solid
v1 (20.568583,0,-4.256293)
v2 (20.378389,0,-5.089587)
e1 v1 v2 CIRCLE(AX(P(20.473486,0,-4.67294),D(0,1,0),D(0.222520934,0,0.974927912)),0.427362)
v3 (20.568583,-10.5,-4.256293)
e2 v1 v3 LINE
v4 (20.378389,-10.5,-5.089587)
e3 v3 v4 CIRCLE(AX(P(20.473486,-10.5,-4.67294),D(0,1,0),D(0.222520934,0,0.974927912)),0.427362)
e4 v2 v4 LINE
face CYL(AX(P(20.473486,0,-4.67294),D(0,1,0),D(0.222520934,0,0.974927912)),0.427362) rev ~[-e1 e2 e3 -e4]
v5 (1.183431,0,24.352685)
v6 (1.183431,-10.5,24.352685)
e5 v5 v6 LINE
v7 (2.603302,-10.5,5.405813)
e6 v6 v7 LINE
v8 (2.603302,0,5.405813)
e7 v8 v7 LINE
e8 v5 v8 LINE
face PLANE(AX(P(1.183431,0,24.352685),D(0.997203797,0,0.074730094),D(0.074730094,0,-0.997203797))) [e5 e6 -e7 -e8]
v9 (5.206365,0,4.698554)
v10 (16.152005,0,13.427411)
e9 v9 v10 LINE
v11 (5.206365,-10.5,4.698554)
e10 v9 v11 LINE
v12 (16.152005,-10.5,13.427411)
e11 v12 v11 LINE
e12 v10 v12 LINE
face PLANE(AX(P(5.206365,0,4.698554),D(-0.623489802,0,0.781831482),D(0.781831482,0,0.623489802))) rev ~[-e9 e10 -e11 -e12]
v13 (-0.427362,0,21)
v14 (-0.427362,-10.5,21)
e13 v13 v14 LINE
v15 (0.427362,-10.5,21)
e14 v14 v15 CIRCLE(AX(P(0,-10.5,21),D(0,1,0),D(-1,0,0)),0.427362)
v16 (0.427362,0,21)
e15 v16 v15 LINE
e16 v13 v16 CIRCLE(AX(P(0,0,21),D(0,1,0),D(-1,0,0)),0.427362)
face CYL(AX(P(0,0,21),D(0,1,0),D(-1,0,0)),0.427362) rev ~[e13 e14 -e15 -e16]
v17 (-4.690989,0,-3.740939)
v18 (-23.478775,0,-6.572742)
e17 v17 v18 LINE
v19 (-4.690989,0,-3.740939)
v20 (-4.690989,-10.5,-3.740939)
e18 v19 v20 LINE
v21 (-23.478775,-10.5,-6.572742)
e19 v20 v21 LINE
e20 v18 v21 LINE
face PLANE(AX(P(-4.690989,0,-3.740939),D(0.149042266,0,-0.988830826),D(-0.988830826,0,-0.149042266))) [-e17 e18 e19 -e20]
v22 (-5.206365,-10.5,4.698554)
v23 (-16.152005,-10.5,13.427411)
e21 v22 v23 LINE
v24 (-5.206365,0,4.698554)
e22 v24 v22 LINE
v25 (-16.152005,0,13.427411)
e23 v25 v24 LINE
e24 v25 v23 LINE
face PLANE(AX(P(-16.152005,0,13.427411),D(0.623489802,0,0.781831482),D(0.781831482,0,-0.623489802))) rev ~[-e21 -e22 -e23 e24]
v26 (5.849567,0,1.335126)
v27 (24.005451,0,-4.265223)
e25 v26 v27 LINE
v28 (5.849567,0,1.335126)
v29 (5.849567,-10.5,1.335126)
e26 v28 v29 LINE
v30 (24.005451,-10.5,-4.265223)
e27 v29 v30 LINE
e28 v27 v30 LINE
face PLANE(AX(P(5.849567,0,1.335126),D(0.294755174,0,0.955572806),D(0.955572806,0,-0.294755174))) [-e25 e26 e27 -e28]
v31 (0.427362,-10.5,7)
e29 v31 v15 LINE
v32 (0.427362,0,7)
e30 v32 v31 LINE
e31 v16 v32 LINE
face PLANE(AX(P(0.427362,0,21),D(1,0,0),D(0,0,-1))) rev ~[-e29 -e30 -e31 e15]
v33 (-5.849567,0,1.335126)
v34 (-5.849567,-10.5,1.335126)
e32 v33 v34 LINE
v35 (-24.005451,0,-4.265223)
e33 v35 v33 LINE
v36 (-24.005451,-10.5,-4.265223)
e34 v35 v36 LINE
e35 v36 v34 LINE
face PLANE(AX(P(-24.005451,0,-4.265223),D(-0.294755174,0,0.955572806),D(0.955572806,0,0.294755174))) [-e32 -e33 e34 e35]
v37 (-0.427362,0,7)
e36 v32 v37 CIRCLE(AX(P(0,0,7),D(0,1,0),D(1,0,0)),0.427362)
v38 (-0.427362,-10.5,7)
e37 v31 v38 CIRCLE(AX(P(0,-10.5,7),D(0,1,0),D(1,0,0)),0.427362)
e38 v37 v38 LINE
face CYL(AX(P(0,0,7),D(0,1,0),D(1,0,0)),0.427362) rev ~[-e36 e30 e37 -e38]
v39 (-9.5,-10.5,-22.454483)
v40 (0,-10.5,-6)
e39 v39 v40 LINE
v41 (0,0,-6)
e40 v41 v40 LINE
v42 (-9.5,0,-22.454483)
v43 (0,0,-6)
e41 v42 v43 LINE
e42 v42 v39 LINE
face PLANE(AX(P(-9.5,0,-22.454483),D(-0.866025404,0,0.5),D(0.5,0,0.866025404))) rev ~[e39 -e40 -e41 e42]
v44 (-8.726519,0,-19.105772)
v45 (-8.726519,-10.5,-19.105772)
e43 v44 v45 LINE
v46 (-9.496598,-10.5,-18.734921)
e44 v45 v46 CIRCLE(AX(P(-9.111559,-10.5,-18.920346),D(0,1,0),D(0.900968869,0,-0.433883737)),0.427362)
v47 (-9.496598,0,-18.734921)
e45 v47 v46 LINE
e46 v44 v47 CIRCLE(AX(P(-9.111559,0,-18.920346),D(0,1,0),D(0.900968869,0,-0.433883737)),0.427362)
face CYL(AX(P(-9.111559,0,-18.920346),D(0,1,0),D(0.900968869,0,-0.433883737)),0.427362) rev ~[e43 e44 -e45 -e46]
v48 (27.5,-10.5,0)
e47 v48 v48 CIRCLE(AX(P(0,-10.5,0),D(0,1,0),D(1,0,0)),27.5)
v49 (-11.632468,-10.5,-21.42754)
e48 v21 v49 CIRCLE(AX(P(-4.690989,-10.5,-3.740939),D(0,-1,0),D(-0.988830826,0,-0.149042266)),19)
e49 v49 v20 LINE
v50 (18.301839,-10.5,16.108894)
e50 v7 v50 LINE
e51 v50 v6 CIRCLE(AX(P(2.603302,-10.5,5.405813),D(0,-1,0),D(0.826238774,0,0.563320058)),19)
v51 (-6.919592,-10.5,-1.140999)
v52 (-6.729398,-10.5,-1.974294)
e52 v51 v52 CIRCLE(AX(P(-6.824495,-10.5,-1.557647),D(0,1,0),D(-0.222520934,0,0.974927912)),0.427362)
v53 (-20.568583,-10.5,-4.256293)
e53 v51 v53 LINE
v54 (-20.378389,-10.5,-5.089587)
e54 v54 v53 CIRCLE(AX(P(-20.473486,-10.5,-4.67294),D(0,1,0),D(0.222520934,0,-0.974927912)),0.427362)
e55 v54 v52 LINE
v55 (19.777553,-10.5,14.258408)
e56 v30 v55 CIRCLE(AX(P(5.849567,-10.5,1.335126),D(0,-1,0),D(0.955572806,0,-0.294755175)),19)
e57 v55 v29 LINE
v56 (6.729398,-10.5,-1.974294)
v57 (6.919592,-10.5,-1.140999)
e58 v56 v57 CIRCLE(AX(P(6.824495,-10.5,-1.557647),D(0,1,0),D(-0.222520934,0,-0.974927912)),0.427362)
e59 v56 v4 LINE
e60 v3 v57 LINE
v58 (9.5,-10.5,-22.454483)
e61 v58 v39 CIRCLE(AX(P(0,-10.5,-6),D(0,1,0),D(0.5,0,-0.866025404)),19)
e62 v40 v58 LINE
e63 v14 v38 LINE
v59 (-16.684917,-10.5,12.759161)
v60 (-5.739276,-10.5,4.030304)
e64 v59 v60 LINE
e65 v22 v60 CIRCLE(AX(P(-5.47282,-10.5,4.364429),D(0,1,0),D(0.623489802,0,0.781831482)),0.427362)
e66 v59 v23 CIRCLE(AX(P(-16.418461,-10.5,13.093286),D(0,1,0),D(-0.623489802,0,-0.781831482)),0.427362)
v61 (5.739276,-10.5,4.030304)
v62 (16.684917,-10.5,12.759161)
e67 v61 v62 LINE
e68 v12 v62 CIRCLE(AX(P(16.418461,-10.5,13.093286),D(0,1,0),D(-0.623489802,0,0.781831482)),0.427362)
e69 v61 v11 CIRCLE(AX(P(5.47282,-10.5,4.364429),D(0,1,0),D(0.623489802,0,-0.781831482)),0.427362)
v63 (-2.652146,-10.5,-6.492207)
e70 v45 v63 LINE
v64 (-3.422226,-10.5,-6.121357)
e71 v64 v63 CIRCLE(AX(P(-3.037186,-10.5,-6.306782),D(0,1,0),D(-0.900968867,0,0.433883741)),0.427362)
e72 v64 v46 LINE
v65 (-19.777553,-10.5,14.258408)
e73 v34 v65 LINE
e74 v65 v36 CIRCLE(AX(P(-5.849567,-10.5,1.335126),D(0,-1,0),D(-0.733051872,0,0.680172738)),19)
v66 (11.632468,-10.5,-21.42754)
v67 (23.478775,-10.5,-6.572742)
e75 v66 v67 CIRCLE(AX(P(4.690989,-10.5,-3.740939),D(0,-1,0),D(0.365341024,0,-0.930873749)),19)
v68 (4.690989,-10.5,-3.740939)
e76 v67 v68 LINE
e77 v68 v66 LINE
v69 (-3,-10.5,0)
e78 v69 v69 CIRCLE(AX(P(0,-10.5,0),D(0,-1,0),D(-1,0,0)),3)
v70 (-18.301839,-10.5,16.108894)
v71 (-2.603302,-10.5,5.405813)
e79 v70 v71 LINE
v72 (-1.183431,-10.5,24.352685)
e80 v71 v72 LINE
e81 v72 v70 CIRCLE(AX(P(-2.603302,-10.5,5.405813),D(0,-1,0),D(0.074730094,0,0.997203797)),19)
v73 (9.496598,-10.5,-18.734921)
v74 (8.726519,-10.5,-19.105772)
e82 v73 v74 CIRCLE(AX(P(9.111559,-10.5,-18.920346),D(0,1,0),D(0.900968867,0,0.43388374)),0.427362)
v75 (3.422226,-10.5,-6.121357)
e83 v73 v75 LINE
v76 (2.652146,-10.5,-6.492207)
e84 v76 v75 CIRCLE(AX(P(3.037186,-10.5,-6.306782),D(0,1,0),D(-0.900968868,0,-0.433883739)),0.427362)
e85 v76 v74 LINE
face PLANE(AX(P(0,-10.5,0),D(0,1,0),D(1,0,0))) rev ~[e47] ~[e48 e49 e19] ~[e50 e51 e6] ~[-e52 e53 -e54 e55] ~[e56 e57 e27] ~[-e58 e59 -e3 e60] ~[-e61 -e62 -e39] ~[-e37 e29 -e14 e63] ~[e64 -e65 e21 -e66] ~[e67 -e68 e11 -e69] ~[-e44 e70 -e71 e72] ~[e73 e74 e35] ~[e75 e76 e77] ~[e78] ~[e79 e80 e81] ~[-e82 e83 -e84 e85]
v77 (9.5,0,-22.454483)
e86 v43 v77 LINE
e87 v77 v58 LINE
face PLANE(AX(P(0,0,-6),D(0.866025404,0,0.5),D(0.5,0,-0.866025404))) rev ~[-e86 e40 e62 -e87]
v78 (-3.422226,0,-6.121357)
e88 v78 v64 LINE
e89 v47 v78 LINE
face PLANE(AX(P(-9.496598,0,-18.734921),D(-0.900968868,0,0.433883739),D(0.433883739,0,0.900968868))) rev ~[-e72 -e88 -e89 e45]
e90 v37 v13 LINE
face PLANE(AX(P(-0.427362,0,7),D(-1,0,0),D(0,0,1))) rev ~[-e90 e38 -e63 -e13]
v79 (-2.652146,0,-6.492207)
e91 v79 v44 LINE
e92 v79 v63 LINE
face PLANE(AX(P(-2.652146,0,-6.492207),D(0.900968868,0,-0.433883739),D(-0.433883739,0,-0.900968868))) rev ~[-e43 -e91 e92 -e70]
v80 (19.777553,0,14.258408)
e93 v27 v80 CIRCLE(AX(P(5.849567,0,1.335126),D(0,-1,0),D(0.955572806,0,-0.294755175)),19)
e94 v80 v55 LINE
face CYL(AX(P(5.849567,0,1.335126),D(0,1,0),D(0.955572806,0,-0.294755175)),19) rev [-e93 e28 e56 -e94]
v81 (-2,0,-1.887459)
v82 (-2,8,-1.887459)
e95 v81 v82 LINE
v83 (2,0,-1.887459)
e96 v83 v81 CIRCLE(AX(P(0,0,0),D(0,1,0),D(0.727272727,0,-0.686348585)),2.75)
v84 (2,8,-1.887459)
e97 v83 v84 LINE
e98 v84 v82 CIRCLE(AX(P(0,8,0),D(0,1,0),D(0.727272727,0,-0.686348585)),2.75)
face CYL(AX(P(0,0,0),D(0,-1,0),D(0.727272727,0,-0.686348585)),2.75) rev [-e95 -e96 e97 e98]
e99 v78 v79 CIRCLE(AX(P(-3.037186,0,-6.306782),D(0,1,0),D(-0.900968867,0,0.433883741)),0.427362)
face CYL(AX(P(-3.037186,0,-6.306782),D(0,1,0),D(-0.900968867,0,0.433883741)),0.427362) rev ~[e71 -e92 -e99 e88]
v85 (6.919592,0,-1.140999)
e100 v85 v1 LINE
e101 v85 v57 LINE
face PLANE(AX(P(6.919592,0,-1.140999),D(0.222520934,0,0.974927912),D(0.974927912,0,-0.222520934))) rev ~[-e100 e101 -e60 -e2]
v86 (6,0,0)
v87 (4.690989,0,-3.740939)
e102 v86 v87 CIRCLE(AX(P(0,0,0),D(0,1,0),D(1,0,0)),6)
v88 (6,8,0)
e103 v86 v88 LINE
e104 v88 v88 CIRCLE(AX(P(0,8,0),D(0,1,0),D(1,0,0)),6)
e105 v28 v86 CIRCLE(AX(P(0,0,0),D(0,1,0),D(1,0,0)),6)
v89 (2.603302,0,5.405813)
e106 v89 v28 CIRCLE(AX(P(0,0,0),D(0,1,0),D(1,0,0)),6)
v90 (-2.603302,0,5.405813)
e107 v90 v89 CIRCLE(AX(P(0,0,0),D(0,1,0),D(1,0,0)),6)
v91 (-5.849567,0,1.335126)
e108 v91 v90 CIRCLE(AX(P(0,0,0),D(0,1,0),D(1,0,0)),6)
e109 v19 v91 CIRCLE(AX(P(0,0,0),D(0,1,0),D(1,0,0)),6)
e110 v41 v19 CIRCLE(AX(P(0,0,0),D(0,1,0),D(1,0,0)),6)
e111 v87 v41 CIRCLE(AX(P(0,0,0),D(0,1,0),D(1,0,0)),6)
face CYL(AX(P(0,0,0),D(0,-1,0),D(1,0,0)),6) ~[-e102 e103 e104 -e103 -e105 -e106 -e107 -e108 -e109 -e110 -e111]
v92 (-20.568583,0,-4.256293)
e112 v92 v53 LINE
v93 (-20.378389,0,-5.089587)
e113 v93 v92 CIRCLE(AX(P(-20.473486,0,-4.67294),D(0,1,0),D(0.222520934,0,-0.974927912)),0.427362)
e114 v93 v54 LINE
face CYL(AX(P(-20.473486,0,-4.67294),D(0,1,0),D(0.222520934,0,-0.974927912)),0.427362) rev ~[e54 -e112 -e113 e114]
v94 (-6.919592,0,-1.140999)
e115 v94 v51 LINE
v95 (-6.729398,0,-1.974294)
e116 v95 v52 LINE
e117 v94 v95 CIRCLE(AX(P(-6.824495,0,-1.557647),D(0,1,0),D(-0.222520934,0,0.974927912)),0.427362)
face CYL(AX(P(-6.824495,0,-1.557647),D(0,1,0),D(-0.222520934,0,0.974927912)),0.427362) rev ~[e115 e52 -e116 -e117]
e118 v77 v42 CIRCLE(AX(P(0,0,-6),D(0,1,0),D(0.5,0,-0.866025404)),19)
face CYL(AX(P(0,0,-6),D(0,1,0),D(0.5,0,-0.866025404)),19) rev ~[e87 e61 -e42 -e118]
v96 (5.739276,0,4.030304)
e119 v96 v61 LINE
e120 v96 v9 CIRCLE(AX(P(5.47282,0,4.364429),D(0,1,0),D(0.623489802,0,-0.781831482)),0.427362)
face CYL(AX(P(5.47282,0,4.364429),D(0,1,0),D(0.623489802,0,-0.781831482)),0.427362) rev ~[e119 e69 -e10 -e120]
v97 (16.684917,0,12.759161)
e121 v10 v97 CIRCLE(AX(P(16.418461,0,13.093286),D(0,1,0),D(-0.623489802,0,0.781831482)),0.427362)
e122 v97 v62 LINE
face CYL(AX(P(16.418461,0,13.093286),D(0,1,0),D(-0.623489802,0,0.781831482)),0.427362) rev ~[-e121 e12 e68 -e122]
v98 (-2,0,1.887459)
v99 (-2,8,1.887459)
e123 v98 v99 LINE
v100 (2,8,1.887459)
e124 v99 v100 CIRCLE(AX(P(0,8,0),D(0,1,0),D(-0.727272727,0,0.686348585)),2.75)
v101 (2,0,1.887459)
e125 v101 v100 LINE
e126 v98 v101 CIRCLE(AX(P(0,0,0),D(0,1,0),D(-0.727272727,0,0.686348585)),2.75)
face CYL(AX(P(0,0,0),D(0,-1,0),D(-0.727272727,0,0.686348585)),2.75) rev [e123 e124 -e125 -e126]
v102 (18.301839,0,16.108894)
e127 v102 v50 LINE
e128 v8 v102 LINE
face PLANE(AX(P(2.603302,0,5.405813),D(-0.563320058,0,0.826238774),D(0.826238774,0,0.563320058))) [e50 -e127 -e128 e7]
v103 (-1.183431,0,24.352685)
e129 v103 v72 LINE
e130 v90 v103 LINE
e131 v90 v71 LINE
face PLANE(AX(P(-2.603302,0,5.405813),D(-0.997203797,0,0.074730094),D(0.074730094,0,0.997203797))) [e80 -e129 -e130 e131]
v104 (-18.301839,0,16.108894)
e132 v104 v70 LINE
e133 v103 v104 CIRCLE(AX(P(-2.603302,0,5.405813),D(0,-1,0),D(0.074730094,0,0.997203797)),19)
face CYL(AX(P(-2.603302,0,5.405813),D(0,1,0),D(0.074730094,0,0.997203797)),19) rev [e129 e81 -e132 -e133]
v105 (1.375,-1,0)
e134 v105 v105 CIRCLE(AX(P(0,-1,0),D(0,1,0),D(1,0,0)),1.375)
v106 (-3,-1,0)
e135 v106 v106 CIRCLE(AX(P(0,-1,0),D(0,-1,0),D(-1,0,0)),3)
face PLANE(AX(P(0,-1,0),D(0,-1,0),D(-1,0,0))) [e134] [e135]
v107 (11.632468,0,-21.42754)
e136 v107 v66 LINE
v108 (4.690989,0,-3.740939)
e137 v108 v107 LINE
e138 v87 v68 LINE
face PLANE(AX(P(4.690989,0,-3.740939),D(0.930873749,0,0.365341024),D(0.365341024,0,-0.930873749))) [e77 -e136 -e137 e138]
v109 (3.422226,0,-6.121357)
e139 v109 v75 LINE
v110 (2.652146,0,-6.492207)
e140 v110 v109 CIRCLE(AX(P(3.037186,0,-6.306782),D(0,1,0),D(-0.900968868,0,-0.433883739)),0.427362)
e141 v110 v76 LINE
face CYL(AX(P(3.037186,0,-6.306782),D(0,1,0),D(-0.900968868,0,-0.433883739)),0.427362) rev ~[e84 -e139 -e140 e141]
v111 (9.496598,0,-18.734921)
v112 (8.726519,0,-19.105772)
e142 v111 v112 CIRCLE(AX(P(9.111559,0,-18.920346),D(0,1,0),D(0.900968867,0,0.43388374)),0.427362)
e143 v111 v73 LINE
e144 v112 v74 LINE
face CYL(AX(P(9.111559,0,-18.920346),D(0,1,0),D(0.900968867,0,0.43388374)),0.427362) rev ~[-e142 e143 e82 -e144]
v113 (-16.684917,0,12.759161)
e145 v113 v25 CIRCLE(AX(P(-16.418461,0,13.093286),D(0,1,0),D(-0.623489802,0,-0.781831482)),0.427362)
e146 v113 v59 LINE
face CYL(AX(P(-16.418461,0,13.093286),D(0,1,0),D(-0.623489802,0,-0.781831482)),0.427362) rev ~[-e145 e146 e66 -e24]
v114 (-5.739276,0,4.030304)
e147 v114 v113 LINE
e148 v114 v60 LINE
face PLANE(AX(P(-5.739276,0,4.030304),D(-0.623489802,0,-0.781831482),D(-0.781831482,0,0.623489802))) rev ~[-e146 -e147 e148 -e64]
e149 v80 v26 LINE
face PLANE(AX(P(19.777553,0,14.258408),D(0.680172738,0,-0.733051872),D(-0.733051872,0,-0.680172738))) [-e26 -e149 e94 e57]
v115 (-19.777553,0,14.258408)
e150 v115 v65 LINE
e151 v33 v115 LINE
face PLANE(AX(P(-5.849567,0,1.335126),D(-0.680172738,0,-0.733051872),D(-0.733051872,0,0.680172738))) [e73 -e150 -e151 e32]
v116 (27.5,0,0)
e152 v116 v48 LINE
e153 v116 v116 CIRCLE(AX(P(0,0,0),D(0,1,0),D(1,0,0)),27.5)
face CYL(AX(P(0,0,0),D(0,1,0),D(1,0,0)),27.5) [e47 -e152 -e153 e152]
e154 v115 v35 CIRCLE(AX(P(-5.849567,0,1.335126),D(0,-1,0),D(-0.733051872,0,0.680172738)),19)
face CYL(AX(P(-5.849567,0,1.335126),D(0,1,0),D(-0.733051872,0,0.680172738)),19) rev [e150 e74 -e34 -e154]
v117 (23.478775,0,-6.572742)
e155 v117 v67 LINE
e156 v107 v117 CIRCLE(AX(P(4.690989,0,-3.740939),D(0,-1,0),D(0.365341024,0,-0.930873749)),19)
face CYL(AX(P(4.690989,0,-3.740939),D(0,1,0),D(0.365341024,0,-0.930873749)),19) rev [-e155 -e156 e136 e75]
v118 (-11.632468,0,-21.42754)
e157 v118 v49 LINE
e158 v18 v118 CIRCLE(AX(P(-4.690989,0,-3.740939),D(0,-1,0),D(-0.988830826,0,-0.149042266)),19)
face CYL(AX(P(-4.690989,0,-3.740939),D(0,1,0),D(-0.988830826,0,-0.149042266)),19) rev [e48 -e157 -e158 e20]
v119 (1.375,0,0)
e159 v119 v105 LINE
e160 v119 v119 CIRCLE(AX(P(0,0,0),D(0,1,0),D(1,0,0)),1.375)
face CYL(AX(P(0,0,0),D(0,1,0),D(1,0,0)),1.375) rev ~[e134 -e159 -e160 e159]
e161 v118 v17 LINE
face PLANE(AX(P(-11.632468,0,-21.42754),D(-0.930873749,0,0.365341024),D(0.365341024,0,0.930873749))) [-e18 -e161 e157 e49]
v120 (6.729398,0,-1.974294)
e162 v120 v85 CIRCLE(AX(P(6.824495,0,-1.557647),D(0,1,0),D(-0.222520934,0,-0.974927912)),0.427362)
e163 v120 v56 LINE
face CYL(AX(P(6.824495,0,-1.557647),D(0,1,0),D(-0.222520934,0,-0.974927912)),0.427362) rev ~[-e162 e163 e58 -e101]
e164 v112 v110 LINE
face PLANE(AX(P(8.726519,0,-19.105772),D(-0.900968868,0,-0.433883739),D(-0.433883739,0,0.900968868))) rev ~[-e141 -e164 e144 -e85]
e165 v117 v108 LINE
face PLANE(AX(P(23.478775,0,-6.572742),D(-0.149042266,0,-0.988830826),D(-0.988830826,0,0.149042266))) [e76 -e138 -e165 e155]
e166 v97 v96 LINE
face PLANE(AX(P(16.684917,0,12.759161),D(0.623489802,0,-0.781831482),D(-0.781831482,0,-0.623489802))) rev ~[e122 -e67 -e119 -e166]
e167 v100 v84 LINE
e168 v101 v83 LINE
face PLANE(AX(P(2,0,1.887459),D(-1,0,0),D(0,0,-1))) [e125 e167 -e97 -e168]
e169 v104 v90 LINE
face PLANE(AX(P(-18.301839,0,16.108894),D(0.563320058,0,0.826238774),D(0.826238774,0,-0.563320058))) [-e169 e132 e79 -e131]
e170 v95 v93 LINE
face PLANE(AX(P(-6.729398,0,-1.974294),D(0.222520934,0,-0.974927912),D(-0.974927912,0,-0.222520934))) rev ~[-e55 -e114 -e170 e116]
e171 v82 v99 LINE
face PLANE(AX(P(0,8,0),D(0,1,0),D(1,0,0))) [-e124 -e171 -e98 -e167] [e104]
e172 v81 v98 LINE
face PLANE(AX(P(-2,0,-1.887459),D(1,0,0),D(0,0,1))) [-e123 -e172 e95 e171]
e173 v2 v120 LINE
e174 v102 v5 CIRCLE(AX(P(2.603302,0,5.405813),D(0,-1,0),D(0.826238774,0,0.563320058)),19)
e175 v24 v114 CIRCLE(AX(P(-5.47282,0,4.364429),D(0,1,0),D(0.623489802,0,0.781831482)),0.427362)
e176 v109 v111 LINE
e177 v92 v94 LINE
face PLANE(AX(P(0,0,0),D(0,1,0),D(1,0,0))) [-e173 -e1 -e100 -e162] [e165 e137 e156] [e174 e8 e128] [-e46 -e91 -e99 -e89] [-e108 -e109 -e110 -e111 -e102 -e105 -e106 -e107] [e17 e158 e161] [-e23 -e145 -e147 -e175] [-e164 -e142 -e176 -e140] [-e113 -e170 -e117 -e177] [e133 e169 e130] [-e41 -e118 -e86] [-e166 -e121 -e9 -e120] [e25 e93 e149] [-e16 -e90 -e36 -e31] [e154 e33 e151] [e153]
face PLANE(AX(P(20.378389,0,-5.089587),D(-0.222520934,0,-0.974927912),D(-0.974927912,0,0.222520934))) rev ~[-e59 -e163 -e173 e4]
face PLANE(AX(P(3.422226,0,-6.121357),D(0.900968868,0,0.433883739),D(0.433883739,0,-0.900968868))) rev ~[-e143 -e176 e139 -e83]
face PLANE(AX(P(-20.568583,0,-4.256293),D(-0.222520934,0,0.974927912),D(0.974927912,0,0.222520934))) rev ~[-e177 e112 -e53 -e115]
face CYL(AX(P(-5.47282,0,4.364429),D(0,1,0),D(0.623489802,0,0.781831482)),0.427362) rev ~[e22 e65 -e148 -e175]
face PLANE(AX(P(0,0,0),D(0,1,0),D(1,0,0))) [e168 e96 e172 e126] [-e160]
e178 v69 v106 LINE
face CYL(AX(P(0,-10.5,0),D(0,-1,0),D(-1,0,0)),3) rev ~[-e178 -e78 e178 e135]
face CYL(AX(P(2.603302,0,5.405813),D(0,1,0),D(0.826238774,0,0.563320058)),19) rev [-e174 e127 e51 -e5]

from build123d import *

# Parameters (mm, degrees)
SKETCH2_R           = 6
BOSS_EXTRUDE1_DEPTH = 8
SKETCH3_R           = 27.5
SKETCH3_R_2         = 1.375
BOSS_EXTRUDE2_DEPTH = 10.5
SKETCH4_R           = 3
CUT_EXTRUDE1_DEPTH  = 9.5
CUT_EXTRUDE2_REACH  = 12.5


with BuildPart() as part:
    # Sketch2 → Boss-Extrude1 (new body)
    with BuildSketch(Plane(origin=(0, 0, 0), x_dir=(1, 0, 0), z_dir=(0, 1, 0))):
        Circle(SKETCH2_R)
        with BuildLine():
            ThreePointArc((-2, -1.887458609), (0, -2.75), (2, -1.887458609))
            Line((2, -1.887458609), (2, 1.887458609))
            ThreePointArc((2, 1.887458609), (0, 2.75), (-2, 1.887458609))
            Line((-2, 1.887458609), (-2, -1.887458609))
        make_face(mode=Mode.SUBTRACT)
    extrude(amount=BOSS_EXTRUDE1_DEPTH)

    # Sketch3 → Boss-Extrude2 (add)
    with BuildSketch(Plane(origin=(0, 0, 0), x_dir=(1, 0, 0), z_dir=(0, 1, 0))):
        Circle(SKETCH3_R)
        Circle(SKETCH3_R_2, mode=Mode.SUBTRACT)
        with BuildLine():
            Line((0, 6), (9.5, 22.454482672))
            ThreePointArc((9.5, 22.454482672), (0, 25), (-9.5, 22.454482672))
            Line((-9.5, 22.454482672), (0, 6))
        make_face(mode=Mode.SUBTRACT)
        with BuildLine():
            Line((4.690988895, 3.740938811), (11.632468358, 21.427540035))
            ThreePointArc((11.632468358, 21.427540035), (19.545787062, 15.587245046), (23.478774593, 6.572741869))
            Line((23.478774593, 6.572741869), (4.690988895, 3.740938811))
        make_face(mode=Mode.SUBTRACT)
        with BuildLine():
            Line((5.849567473, -1.335125604), (24.005450783, 4.26522271))
            ThreePointArc((24.005450783, 4.26522271), (24.373197805, -5.563023349), (19.777553038, -14.258407621))
            Line((19.777553038, -14.258407621), (5.849567473, -1.335125604))
        make_face(mode=Mode.SUBTRACT)
        with BuildLine():
            Line((2.603302435, -5.405813207), (18.301839147, -16.108894311))
            ThreePointArc((18.301839147, -16.108894311), (10.847093478, -22.524221698), (1.183430657, -24.352685354))
            Line((1.183430657, -24.352685354), (2.603302435, -5.405813207))
        make_face(mode=Mode.SUBTRACT)
        with BuildLine():
            Line((-2.603302435, -5.405813207), (-1.183430657, -24.352685354))
            ThreePointArc((-1.183430657, -24.352685354), (-10.847093478, -22.524221698), (-18.301839147, -16.108894311))
            Line((-18.301839147, -16.108894311), (-2.603302435, -5.405813207))
        make_face(mode=Mode.SUBTRACT)
        with BuildLine():
            Line((-5.849567473, -1.335125604), (-19.777553038, -14.258407621))
            ThreePointArc((-19.777553038, -14.258407621), (-24.373197805, -5.563023349), (-24.005450783, 4.26522271))
            Line((-24.005450783, 4.26522271), (-5.849567473, -1.335125604))
        make_face(mode=Mode.SUBTRACT)
        with BuildLine():
            Line((-4.690988895, 3.740938811), (-23.478774593, 6.572741868))
            ThreePointArc((-23.478774593, 6.572741868), (-19.545787062, 15.587245046), (-11.632468358, 21.427540035))
            Line((-11.632468358, 21.427540035), (-4.690988895, 3.740938811))
        make_face(mode=Mode.SUBTRACT)
    extrude(amount=-BOSS_EXTRUDE2_DEPTH)

    # Sketch4 → Cut-Extrude1 (cut)
    with BuildSketch(Plane(origin=(0, -10.5, 0), x_dir=(-1, 0, 0), z_dir=(0, -1, 0))):
        Circle(SKETCH4_R)
    extrude(amount=-CUT_EXTRUDE1_DEPTH, mode=Mode.SUBTRACT)

    # Sketch5 → Cut-Extrude2 (cut, up to next)
    with BuildSketch(Plane(origin=(0, 0, 0), x_dir=(1, 0, 0), z_dir=(0, 1, 0)), mode=Mode.PRIVATE) as cut_extrude2_sk1:
        with BuildLine():
            ThreePointArc((-5.206364569, -4.698553628), (-5.138695362, -4.097972805), (-5.739276185, -4.030303598))
            Line((-5.739276185, -4.030303598), (-16.68491694, -12.759160824))
            ThreePointArc((-16.68491694, -12.759160824), (-16.752586147, -13.359741647), (-16.152005324, -13.427410854))
            Line((-16.152005324, -13.427410854), (-5.206364569, -4.698553628))
        make_face()
    cut_extrude2_tool1 = extrude(cut_extrude2_sk1.sketch, amount=-CUT_EXTRUDE2_REACH, mode=Mode.PRIVATE) & part.part
    add(cut_extrude2_tool1.solids().sort_by_distance((-10.945641, 0, 8.728857))[0], mode=Mode.SUBTRACT)
    # Sketch5 → Cut-Extrude2 (cut, up to next)
    with BuildSketch(Plane(origin=(0, 0, 0), x_dir=(1, 0, 0), z_dir=(0, 1, 0)), mode=Mode.PRIVATE) as cut_extrude2_sk2:
        with BuildLine():
            Line((0.427361935, -21), (0.427361935, -7))
            ThreePointArc((0.427361935, -7), (0, -6.572638065), (-0.427361935, -7))
            Line((-0.427361935, -7), (-0.427361935, -21))
            ThreePointArc((-0.427361935, -21), (0, -21.427361935), (0.427361935, -21))
        make_face()
    cut_extrude2_tool2 = extrude(cut_extrude2_sk2.sketch, amount=-CUT_EXTRUDE2_REACH, mode=Mode.PRIVATE) & part.part
    add(cut_extrude2_tool2.solids().sort_by_distance((0, 0, 14))[0], mode=Mode.SUBTRACT)
    # Sketch5 → Cut-Extrude2 (cut, up to next)
    with BuildSketch(Plane(origin=(0, 0, 0), x_dir=(1, 0, 0), z_dir=(0, 1, 0)), mode=Mode.PRIVATE) as cut_extrude2_sk3:
        with BuildLine():
            ThreePointArc((-6.919592362, 1.140999459), (-6.407848306, 1.462549561), (-6.729398408, 1.974293617))
            Line((-6.729398408, 1.974293617), (-20.378389179, 5.089586692))
            ThreePointArc((-20.378389179, 5.089586692), (-20.890133235, 4.76803659), (-20.568583133, 4.256292534))
            Line((-20.568583133, 4.256292534), (-6.919592362, 1.140999459))
        make_face()
    cut_extrude2_tool3 = extrude(cut_extrude2_sk3.sketch, amount=-CUT_EXTRUDE2_REACH, mode=Mode.PRIVATE) & part.part
    add(cut_extrude2_tool3.solids().sort_by_distance((-13.648991, 0, -3.115293))[0], mode=Mode.SUBTRACT)
    # Sketch5 → Cut-Extrude2 (cut, up to next)
    with BuildSketch(Plane(origin=(0, 0, 0), x_dir=(1, 0, 0), z_dir=(0, 1, 0)), mode=Mode.PRIVATE) as cut_extrude2_sk4:
        with BuildLine():
            ThreePointArc((-3.422225972, 6.121356681), (-2.85176078, 5.921742277), (-2.652146375, 6.49220747))
            Line((-2.652146375, 6.49220747), (-8.726518723, 19.10577162))
            ThreePointArc((-8.726518723, 19.10577162), (-9.296983916, 19.305386025), (-9.49659832, 18.734920832))
            Line((-9.49659832, 18.734920832), (-3.422225972, 6.121356681))
        make_face()
    cut_extrude2_tool4 = extrude(cut_extrude2_sk4.sketch, amount=-CUT_EXTRUDE2_REACH, mode=Mode.PRIVATE) & part.part
    add(cut_extrude2_tool4.solids().sort_by_distance((-6.074372, 0, -12.613564))[0], mode=Mode.SUBTRACT)
    # Sketch5 → Cut-Extrude2 (cut, up to next)
    with BuildSketch(Plane(origin=(0, 0, 0), x_dir=(1, 0, 0), z_dir=(0, 1, 0)), mode=Mode.PRIVATE) as cut_extrude2_sk5:
        with BuildLine():
            ThreePointArc((2.652146375, 6.49220747), (2.85176078, 5.921742277), (3.422225972, 6.121356681))
            Line((3.422225972, 6.121356681), (9.49659832, 18.734920832))
            ThreePointArc((9.49659832, 18.734920832), (9.296983916, 19.305386025), (8.726518723, 19.10577162))
            Line((8.726518723, 19.10577162), (2.652146375, 6.49220747))
        make_face()
    cut_extrude2_tool5 = extrude(cut_extrude2_sk5.sketch, amount=-CUT_EXTRUDE2_REACH, mode=Mode.PRIVATE) & part.part
    add(cut_extrude2_tool5.solids().sort_by_distance((6.074372, 0, -12.613564))[0], mode=Mode.SUBTRACT)
    # Sketch5 → Cut-Extrude2 (cut, up to next)
    with BuildSketch(Plane(origin=(0, 0, 0), x_dir=(1, 0, 0), z_dir=(0, 1, 0)), mode=Mode.PRIVATE) as cut_extrude2_sk6:
        with BuildLine():
            ThreePointArc((6.729398408, 1.974293617), (6.407848306, 1.462549561), (6.919592362, 1.140999459))
            Line((6.919592362, 1.140999459), (20.568583133, 4.256292534))
            ThreePointArc((20.568583133, 4.256292534), (20.890133235, 4.76803659), (20.378389179, 5.089586692))
            Line((20.378389179, 5.089586692), (6.729398408, 1.974293617))
        make_face()
    cut_extrude2_tool6 = extrude(cut_extrude2_sk6.sketch, amount=-CUT_EXTRUDE2_REACH, mode=Mode.PRIVATE) & part.part
    add(cut_extrude2_tool6.solids().sort_by_distance((13.648991, 0, -3.115293))[0], mode=Mode.SUBTRACT)
    # Sketch5 → Cut-Extrude2 (cut, up to next)
    with BuildSketch(Plane(origin=(0, 0, 0), x_dir=(1, 0, 0), z_dir=(0, 1, 0)), mode=Mode.PRIVATE) as cut_extrude2_sk7:
        with BuildLine():
            ThreePointArc((5.739276185, -4.030303598), (5.138695362, -4.097972805), (5.206364569, -4.698553628))
            Line((5.206364569, -4.698553628), (16.152005324, -13.427410854))
            ThreePointArc((16.152005324, -13.427410854), (16.752586147, -13.359741647), (16.68491694, -12.759160824))
            Line((16.68491694, -12.759160824), (5.739276185, -4.030303598))
        make_face()
    cut_extrude2_tool7 = extrude(cut_extrude2_sk7.sketch, amount=-CUT_EXTRUDE2_REACH, mode=Mode.PRIVATE) & part.part
    add(cut_extrude2_tool7.solids().sort_by_distance((10.945641, 0, 8.728857))[0], mode=Mode.SUBTRACT)


solid = part.part
